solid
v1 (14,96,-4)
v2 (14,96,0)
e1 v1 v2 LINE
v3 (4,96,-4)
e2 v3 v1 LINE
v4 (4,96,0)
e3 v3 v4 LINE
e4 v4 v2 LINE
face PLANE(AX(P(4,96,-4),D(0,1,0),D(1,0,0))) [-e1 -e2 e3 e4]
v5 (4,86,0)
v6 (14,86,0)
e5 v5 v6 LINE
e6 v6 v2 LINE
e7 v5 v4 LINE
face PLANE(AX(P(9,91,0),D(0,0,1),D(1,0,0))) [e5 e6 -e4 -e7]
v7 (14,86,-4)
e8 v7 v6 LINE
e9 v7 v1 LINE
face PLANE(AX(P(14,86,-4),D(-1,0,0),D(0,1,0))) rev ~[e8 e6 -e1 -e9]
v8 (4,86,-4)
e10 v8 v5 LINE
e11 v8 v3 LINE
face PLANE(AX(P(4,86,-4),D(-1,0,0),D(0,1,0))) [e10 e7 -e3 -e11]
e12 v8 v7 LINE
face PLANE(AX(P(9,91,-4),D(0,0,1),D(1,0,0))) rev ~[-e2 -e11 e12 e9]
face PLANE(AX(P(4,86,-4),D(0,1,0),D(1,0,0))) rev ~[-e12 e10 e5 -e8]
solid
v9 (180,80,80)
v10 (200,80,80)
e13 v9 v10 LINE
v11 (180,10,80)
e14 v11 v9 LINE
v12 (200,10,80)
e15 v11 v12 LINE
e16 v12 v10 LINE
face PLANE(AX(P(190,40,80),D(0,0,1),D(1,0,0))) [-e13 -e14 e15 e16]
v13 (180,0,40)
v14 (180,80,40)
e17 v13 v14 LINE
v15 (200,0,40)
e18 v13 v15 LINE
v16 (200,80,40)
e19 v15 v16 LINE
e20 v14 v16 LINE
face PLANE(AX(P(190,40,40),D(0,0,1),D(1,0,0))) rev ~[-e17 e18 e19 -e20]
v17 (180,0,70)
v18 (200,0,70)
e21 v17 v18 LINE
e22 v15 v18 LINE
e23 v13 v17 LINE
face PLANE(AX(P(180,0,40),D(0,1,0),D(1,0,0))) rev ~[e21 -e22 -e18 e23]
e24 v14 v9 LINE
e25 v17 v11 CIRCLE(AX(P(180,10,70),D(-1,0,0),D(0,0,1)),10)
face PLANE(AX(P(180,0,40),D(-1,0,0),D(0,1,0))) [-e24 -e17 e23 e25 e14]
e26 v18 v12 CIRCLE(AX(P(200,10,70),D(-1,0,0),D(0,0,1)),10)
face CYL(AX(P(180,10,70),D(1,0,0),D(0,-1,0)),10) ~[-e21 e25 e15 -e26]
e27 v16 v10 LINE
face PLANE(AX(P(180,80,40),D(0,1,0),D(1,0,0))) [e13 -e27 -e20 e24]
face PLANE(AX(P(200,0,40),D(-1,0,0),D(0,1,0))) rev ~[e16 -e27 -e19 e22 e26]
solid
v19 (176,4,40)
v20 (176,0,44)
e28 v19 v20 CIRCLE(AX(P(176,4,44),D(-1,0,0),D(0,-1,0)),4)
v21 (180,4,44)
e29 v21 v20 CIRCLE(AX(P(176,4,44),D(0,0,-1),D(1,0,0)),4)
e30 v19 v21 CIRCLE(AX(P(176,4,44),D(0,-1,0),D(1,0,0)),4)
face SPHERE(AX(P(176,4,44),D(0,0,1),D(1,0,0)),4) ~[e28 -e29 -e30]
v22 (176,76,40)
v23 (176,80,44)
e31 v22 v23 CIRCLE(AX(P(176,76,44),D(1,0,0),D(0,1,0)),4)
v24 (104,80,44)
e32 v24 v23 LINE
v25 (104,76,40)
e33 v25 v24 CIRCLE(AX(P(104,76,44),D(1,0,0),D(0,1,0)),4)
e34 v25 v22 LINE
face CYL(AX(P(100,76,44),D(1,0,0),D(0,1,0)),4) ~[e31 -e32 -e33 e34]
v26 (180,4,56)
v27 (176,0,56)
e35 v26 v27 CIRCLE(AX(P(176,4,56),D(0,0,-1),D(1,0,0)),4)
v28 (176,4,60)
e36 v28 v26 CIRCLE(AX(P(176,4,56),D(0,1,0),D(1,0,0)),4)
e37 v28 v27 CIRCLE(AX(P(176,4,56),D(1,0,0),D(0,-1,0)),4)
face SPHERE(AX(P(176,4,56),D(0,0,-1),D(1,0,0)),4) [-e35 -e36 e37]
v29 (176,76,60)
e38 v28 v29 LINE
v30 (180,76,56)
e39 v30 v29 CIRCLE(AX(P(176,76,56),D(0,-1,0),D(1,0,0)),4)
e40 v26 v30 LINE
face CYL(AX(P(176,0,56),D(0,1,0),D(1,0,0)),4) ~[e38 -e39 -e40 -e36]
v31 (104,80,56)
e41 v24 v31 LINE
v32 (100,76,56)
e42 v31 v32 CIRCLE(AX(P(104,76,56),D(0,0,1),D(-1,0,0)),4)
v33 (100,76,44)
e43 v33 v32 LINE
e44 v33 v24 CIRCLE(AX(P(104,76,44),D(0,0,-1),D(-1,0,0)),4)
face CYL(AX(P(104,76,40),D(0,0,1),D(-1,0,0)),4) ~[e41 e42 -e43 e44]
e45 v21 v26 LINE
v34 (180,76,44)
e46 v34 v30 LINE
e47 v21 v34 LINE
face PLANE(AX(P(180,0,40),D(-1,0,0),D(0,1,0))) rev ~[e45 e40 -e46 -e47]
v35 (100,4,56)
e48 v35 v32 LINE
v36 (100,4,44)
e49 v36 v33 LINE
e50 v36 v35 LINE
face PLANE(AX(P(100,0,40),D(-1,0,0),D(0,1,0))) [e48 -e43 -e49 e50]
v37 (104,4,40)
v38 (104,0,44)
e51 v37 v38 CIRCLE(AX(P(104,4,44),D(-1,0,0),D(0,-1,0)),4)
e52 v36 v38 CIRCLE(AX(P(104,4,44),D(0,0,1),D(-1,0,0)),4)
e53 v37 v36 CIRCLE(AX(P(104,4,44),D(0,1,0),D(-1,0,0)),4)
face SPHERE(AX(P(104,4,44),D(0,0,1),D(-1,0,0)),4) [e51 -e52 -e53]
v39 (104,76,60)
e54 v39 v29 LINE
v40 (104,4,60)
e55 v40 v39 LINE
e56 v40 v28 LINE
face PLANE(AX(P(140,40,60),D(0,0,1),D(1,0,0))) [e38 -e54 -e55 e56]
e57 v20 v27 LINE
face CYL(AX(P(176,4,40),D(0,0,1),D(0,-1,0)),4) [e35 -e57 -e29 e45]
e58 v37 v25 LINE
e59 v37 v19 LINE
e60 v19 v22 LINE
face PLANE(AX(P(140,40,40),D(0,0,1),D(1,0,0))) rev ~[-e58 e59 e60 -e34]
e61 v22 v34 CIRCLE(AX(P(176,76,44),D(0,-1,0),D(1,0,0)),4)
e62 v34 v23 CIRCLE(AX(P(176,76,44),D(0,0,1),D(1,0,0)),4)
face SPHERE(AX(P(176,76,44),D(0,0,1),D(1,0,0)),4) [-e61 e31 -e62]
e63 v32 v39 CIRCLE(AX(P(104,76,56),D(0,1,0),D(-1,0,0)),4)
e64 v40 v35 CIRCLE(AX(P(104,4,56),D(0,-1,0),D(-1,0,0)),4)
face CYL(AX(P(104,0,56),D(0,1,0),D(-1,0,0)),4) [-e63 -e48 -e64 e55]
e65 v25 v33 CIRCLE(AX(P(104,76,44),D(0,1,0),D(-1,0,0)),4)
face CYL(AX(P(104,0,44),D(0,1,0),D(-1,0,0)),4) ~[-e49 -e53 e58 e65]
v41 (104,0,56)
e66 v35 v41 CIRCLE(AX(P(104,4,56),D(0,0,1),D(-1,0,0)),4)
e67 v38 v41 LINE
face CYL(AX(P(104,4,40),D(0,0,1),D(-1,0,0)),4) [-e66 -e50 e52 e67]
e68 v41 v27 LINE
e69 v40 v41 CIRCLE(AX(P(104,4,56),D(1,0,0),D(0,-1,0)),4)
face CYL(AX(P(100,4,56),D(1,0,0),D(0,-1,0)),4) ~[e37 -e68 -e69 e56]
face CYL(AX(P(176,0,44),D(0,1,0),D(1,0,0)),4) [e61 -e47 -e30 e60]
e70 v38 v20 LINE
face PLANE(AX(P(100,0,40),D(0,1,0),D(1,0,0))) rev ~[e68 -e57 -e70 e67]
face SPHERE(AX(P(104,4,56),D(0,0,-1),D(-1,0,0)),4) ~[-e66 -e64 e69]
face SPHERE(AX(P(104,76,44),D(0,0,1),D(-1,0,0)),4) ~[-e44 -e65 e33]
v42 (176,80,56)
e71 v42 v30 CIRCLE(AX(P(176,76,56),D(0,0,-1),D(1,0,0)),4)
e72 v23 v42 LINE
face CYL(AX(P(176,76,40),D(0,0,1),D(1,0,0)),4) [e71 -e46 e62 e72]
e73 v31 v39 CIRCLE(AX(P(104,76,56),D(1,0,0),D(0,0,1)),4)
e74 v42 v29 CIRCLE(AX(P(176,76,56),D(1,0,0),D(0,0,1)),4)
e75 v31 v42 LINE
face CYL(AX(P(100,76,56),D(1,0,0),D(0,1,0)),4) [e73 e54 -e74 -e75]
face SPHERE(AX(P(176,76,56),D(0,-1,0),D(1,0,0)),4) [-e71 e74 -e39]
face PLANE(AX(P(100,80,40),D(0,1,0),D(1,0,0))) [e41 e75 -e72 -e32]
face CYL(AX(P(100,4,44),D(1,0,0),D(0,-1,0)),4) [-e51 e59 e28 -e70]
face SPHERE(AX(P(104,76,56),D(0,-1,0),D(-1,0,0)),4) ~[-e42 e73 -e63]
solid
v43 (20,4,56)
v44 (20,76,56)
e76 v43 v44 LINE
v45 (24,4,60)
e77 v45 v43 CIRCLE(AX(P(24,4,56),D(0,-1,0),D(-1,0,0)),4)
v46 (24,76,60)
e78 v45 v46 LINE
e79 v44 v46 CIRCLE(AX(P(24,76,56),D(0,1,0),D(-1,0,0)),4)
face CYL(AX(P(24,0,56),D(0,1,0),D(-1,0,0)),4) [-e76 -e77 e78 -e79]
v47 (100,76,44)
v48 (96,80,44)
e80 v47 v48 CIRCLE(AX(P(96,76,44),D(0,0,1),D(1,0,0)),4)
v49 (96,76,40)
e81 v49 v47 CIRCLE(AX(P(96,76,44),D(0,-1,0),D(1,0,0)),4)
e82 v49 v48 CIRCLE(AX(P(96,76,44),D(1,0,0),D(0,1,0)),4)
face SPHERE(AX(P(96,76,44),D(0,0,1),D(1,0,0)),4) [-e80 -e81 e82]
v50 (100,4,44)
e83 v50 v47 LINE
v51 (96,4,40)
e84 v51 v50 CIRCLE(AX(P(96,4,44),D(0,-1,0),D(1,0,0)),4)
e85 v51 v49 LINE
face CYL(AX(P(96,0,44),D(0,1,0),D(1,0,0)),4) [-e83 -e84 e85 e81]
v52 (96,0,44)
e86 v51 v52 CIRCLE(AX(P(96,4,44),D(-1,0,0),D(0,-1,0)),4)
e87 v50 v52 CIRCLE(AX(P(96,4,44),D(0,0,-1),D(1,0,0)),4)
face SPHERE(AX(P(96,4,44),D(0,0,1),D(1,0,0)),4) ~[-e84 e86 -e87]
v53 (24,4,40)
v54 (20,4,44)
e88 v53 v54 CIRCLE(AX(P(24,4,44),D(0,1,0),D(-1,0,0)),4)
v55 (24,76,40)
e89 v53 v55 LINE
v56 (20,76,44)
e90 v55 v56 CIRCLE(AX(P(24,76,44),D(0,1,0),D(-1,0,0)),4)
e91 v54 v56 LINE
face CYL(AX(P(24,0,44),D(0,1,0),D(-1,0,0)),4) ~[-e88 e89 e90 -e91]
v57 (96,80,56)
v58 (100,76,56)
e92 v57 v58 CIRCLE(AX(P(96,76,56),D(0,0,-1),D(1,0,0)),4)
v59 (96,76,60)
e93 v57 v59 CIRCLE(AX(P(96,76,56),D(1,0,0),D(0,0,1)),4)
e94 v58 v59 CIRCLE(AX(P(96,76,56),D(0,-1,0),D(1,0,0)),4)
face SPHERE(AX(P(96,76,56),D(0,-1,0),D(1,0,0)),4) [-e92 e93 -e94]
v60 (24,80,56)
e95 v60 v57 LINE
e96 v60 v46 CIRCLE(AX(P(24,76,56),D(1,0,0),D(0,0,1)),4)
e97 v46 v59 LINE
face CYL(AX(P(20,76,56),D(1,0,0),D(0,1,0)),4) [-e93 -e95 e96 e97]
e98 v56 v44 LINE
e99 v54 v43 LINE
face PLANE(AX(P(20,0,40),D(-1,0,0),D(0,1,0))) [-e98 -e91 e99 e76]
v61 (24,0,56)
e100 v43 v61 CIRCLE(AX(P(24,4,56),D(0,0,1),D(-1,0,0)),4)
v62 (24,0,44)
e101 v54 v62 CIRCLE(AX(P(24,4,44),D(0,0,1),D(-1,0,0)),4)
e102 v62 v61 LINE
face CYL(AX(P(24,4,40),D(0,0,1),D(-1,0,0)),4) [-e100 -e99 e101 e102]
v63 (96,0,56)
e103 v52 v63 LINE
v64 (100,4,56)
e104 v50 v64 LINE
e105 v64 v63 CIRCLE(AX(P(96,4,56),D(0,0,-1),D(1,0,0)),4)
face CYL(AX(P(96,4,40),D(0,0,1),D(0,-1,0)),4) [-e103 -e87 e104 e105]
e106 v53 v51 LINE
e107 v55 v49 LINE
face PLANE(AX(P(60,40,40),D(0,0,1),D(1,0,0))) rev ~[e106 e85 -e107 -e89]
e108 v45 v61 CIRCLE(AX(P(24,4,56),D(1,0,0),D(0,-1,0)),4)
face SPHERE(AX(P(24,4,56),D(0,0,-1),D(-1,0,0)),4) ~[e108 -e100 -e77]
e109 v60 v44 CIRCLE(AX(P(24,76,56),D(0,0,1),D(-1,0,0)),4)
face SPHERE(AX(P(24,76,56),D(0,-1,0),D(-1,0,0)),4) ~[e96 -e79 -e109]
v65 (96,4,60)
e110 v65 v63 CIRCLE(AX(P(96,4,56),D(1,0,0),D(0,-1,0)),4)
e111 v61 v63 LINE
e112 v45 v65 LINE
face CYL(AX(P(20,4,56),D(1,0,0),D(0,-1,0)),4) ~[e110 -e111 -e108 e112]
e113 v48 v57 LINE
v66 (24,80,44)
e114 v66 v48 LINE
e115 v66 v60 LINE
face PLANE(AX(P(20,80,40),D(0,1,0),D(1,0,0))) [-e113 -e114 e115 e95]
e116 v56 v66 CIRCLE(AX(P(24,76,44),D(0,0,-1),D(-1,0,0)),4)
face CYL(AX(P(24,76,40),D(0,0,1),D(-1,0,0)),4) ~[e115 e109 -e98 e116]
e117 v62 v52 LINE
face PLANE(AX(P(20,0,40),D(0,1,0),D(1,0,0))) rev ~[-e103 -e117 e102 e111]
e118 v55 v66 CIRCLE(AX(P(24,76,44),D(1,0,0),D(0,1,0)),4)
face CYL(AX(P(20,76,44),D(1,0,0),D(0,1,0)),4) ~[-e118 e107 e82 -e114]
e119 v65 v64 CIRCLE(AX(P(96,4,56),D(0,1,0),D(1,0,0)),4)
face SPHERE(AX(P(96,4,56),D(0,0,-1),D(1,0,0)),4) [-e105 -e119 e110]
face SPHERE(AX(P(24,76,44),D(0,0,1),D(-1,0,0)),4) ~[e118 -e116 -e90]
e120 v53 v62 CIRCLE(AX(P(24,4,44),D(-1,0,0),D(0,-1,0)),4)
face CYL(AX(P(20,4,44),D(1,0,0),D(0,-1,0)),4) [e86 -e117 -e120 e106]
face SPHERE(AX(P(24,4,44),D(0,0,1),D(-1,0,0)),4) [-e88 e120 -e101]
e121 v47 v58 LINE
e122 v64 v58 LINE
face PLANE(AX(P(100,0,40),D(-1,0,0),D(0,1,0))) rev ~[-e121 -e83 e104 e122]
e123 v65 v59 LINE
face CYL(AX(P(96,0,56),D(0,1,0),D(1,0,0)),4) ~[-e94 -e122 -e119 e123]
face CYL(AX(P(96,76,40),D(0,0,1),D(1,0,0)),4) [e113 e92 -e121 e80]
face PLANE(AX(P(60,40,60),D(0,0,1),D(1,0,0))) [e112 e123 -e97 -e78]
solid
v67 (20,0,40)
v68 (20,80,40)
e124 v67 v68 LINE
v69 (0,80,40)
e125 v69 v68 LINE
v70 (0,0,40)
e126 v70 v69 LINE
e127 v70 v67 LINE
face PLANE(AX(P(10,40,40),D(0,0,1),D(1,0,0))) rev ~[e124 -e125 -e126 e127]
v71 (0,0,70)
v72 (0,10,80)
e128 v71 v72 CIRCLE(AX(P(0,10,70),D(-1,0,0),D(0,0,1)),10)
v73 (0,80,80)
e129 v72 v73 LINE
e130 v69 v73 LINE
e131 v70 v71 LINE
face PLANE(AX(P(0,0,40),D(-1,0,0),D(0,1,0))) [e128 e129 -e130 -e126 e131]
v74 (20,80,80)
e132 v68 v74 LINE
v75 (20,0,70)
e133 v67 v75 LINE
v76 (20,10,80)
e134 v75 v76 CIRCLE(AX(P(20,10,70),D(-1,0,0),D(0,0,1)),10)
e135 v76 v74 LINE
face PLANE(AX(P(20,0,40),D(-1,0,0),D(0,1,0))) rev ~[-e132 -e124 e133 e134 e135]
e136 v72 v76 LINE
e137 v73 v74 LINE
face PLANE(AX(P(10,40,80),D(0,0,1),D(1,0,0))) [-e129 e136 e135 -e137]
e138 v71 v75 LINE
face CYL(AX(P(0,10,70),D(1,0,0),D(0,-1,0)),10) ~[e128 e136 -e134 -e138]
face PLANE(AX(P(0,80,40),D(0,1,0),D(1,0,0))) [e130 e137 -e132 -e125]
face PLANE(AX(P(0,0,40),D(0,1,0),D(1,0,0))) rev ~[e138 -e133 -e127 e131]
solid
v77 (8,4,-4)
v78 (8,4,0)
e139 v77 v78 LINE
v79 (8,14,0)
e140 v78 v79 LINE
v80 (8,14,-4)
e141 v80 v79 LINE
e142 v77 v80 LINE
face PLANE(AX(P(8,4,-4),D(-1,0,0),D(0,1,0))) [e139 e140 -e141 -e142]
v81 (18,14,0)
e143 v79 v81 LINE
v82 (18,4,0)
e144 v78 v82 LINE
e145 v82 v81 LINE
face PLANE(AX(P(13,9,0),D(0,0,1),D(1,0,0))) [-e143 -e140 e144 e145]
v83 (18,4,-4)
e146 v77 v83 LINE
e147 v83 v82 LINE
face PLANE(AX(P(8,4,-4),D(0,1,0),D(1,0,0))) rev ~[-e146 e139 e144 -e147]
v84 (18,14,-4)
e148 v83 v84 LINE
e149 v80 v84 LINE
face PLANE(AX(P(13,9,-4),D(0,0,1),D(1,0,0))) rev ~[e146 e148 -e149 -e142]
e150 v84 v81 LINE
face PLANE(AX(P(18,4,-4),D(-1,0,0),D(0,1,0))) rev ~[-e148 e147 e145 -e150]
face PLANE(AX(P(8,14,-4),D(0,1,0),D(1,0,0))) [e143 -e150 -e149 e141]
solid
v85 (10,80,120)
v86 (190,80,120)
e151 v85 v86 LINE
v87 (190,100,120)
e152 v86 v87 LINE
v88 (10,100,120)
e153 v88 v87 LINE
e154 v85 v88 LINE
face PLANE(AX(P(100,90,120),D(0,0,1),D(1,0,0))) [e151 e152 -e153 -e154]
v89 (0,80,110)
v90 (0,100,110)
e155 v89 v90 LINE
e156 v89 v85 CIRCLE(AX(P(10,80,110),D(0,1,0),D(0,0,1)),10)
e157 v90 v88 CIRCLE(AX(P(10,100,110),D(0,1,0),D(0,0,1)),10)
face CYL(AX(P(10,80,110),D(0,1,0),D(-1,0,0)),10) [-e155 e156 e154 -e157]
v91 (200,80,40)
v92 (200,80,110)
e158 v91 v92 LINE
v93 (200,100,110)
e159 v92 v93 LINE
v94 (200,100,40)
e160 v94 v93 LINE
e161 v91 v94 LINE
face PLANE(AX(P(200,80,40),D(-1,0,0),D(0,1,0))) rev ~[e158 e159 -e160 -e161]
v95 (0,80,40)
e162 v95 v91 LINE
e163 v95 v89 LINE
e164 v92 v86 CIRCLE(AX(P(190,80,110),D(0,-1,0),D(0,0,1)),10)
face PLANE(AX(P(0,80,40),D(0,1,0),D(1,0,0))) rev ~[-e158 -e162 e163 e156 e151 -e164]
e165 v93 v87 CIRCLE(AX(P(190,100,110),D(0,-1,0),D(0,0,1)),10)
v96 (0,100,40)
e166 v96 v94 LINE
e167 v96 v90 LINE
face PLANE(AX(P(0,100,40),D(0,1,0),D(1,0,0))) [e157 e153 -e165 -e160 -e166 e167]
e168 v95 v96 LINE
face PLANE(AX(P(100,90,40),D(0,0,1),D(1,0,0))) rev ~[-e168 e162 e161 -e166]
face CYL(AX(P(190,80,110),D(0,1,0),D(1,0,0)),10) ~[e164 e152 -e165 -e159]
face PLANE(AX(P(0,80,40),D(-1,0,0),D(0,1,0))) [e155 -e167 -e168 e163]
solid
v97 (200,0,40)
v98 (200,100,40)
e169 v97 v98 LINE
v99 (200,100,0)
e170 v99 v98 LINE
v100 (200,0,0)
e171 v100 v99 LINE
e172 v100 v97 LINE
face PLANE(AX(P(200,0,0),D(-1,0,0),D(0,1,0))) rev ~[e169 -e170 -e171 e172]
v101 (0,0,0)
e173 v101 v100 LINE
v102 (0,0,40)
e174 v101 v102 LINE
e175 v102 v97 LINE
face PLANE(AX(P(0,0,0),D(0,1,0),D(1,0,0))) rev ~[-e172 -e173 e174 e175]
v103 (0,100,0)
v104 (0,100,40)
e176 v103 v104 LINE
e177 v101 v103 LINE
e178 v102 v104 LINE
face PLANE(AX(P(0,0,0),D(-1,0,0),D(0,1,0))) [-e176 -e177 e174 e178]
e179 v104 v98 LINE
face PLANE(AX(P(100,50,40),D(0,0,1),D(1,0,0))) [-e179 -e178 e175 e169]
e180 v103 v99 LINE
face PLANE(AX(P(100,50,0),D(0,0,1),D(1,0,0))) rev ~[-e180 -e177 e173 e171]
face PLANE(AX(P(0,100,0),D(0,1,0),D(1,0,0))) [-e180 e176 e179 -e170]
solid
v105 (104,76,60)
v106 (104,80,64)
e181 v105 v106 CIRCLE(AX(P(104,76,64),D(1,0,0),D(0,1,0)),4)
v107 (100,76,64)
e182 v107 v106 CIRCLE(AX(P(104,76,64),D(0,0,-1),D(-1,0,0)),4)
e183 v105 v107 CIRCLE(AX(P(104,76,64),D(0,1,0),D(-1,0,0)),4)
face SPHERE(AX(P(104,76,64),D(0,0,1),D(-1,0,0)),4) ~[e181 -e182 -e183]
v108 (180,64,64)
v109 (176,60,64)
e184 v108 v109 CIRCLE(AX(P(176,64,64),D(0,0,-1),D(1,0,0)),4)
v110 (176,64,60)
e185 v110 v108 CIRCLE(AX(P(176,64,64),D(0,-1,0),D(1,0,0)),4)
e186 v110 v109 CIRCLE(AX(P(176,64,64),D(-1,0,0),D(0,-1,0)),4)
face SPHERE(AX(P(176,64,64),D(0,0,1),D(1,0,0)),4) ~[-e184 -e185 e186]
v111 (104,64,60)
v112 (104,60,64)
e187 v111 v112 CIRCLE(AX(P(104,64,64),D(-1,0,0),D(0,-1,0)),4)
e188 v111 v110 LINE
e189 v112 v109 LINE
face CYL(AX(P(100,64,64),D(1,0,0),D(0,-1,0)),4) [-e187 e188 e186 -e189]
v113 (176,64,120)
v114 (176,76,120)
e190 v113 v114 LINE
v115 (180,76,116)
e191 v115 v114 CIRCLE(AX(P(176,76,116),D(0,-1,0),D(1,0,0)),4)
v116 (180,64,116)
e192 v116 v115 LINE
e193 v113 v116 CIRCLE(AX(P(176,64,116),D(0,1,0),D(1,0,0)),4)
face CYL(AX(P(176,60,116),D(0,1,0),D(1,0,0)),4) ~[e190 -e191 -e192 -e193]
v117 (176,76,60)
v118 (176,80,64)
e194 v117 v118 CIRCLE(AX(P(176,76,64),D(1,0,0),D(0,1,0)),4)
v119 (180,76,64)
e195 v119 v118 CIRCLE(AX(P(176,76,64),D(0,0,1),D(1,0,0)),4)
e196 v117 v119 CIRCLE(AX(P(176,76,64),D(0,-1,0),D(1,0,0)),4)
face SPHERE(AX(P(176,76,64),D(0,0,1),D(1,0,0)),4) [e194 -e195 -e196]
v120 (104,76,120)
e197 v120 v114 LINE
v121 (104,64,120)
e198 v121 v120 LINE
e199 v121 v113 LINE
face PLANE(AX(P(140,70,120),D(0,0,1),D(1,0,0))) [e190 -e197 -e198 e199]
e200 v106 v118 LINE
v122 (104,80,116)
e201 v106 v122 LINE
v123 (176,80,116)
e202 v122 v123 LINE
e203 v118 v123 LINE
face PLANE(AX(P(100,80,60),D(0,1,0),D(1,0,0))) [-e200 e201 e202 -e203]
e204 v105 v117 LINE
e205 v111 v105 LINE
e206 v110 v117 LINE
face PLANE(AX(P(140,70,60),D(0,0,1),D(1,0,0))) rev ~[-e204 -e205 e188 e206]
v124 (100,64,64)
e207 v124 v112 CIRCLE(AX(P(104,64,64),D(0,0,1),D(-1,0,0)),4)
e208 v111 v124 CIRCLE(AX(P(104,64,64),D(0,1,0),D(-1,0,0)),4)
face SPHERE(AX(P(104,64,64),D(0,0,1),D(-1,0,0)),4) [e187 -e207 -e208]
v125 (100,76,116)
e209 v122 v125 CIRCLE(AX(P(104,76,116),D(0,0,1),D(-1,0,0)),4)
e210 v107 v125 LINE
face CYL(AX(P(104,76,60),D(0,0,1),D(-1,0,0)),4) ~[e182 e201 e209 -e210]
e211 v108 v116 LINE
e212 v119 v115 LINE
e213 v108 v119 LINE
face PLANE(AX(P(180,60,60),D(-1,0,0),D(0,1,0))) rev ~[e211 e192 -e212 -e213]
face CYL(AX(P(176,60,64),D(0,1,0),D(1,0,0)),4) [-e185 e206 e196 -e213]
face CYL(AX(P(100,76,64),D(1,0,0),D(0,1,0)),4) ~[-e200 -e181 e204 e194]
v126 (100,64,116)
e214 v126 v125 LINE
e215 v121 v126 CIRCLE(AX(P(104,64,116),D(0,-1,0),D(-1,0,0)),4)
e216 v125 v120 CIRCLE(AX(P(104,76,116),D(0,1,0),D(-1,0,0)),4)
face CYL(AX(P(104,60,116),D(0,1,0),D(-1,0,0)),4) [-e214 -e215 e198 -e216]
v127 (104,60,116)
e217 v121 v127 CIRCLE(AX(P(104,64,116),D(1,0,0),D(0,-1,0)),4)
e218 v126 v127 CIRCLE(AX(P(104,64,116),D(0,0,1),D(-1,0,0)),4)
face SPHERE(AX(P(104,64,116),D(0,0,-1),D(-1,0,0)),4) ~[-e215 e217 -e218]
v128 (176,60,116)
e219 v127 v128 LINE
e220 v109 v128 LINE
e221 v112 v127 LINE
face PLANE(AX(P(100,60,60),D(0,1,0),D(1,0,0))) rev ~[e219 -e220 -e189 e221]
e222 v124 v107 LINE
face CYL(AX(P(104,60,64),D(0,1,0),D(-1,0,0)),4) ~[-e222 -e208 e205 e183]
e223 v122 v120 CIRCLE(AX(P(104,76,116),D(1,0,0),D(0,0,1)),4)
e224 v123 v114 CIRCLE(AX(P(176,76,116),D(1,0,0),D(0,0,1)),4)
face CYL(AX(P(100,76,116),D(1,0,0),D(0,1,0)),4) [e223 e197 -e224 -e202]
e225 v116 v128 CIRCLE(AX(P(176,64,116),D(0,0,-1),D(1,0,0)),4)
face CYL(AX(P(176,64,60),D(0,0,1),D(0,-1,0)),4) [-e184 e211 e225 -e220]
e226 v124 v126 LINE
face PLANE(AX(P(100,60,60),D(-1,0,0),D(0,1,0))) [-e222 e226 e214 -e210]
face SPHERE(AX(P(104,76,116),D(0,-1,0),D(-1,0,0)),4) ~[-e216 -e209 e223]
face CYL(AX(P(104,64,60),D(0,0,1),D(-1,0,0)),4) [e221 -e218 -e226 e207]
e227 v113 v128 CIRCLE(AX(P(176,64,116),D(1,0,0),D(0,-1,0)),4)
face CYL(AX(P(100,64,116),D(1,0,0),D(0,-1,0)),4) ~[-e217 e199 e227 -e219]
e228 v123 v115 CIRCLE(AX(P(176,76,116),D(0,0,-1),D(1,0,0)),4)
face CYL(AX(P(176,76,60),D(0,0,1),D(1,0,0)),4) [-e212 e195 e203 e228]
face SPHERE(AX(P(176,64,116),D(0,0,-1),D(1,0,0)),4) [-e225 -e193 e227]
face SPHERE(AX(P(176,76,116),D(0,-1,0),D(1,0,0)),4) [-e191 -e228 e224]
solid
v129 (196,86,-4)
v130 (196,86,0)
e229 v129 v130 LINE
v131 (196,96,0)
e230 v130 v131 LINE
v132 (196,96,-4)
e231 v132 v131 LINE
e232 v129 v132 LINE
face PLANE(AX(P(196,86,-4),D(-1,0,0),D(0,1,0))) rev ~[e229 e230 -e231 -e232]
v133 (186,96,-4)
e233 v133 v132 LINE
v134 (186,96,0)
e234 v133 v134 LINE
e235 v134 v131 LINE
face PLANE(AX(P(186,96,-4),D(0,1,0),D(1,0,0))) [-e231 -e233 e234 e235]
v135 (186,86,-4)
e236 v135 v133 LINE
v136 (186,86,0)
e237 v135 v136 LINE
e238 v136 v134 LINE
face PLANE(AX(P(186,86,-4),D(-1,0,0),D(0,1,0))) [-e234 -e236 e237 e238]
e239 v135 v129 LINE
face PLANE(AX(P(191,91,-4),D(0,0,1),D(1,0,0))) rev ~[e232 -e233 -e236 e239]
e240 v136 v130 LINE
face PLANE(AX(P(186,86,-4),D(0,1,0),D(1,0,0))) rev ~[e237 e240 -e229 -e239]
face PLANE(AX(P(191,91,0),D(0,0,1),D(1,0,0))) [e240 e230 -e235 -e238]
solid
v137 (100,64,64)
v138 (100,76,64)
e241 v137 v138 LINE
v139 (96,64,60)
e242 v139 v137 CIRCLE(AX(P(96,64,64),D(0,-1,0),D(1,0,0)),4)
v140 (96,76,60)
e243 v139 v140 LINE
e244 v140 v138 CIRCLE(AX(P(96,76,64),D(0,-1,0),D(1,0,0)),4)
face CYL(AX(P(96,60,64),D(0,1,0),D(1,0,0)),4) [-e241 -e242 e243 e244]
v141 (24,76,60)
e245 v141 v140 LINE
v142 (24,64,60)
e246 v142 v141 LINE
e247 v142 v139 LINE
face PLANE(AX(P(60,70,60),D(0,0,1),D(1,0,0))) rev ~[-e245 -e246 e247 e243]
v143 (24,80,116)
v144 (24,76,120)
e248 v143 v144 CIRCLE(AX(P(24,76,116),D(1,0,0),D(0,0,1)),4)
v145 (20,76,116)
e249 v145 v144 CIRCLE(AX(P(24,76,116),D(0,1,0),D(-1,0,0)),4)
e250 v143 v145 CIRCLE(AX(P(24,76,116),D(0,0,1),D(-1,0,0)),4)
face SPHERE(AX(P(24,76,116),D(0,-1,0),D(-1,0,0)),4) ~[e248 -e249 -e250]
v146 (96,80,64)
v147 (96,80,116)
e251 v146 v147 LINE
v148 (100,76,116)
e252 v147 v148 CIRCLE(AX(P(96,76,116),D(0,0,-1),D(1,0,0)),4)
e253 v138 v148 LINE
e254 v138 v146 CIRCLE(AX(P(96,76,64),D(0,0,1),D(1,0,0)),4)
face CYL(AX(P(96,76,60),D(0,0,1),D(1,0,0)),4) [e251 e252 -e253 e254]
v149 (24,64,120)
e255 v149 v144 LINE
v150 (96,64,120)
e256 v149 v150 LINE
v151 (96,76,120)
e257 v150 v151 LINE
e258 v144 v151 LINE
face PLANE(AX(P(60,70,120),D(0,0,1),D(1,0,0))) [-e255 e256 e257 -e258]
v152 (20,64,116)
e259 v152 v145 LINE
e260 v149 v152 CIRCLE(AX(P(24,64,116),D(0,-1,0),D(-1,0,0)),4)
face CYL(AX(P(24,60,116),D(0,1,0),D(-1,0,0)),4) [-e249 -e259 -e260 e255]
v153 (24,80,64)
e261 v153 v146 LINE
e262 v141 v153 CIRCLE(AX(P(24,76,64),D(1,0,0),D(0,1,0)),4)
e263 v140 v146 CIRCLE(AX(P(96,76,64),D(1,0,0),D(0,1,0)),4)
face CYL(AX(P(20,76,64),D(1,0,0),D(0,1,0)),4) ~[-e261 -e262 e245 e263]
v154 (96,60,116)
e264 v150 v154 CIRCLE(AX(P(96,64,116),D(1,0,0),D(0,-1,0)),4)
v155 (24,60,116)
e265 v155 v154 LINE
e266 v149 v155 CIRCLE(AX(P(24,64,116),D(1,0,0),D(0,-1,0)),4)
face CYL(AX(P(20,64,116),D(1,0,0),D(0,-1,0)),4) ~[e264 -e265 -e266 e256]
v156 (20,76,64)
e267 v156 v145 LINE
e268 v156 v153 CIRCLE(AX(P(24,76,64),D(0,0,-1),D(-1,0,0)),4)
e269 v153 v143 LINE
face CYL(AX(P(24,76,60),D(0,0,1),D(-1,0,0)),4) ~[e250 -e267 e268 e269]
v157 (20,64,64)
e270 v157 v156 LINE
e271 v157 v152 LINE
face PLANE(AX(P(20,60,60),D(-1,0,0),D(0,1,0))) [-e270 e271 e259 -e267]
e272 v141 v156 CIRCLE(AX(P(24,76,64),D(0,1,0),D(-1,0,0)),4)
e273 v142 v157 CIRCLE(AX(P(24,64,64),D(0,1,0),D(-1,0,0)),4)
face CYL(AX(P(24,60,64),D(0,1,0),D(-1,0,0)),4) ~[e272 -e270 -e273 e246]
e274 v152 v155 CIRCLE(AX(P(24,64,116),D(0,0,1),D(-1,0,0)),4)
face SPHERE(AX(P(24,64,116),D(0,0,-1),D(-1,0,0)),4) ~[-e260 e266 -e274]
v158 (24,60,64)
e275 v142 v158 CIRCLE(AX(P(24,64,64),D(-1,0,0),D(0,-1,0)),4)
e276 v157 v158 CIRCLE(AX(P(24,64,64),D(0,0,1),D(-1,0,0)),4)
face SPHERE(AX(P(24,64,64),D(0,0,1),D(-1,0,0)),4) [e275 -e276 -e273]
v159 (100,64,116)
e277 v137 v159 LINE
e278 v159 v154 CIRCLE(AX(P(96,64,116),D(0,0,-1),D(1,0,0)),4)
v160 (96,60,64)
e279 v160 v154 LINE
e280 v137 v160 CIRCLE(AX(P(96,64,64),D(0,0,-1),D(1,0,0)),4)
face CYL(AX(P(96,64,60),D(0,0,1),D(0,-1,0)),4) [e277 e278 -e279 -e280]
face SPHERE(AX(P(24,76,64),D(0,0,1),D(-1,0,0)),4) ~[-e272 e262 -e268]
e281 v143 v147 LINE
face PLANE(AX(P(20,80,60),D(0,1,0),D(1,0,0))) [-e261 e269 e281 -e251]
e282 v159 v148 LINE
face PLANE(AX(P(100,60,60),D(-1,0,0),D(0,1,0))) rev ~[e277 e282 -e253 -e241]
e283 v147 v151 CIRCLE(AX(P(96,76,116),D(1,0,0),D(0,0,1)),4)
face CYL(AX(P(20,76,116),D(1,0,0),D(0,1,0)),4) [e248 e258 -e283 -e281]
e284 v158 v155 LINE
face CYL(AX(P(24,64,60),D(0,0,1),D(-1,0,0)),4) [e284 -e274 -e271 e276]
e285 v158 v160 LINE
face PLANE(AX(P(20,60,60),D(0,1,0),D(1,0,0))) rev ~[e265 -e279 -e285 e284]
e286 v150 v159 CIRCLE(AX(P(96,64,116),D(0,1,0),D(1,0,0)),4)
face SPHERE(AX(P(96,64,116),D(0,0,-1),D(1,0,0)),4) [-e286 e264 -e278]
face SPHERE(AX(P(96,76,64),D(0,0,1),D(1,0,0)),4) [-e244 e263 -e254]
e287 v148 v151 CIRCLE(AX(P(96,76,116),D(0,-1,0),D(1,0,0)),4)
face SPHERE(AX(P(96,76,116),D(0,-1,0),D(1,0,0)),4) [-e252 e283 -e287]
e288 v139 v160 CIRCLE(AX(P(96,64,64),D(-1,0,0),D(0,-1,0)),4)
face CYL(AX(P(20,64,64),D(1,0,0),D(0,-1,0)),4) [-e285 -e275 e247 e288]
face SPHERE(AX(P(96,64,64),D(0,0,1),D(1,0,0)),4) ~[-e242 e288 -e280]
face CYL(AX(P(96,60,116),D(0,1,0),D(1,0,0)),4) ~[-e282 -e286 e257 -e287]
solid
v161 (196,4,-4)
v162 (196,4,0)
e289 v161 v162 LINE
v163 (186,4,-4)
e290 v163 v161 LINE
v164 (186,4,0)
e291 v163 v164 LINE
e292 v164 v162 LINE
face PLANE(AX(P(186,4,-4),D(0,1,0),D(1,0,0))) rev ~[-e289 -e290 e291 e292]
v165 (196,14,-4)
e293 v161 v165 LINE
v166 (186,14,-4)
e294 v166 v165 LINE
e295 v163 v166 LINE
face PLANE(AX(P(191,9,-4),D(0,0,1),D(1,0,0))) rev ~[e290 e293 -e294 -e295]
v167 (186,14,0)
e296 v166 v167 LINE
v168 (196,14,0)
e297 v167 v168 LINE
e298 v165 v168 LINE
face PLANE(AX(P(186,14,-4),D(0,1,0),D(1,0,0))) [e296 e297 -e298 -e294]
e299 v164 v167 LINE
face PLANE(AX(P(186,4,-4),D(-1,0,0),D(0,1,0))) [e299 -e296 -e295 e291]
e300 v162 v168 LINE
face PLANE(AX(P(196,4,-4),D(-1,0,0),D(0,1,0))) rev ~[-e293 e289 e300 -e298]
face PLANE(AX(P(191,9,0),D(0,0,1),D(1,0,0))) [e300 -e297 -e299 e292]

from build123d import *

# Parameters (mm, degrees)
BOX_W        = 200
BOX_H        = 100
BOX_DEPTH    = 40
BOX001_W     = 20
BOX001_H     = 80
BOX001_DEPTH = 40
FILLET_R     = 10
BOX002_W     = 20
BOX002_H     = 80
BOX002_DEPTH = 40
FILLET001_R  = 10
BOX003_W     = 200
BOX003_H     = 20
BOX003_DEPTH = 80
FILLET002_R  = 10
BOX004_W     = 80
BOX004_H     = 80
BOX004_DEPTH = 20
FILLET003_R  = 4
BOX005_W     = 80
BOX005_H     = 80
BOX005_DEPTH = 20
FILLET004_R  = 4
BOX006_W     = 80
BOX006_H     = 20
BOX006_DEPTH = 60
FILLET005_R  = 4
BOX007_W     = 80
BOX007_H     = 20
BOX007_DEPTH = 60
FILLET006_R  = 4
BOX008_W     = 10
BOX008_H     = 10
BOX008_DEPTH = 4
BOX009_W     = 10
BOX009_H     = 10
BOX009_DEPTH = 4
BOX010_W     = 10
BOX010_H     = 10
BOX010_DEPTH = 4
BOX011_W     = 10
BOX011_H     = 10
BOX011_DEPTH = 4


with BuildPart() as cube:
    # Box → Box (new body)
    with BuildSketch(Plane.XY):
        with Locations((100, 50)):
            Rectangle(BOX_W, BOX_H)
    extrude(amount=BOX_DEPTH)


with BuildPart() as fillet_body:
    # Box001 → Box001 (new body)
    with BuildSketch(Plane.XY.offset(40)):
        with Locations((10, 40)):
            Rectangle(BOX001_W, BOX001_H)
    extrude(amount=BOX001_DEPTH)

    # Fillet
    fillet_edges = [fillet_body.edges().sort_by_distance(p)[0] for p in [
        (10, 0, 80),
    ]]
    fillet(fillet_edges, radius=FILLET_R)


with BuildPart() as fillet001:
    # Box002 → Box002 (new body)
    with BuildSketch(Plane.XY.offset(40)):
        with Locations((10, 40)):
            Rectangle(BOX002_W, BOX002_H)
    extrude(amount=BOX002_DEPTH)

    # Fillet001
    fillet001_edges = [fillet001.edges().sort_by_distance(p)[0] for p in [
        (10, 0, 80),
    ]]
    fillet(fillet001_edges, radius=FILLET001_R)


with BuildPart() as fillet001_1:
    # Fillet001 placement: moved
    add(fillet001.part.moved(Location((180, 0, 0))))


with BuildPart() as fillet002:
    # Box003 → Box003 (new body)
    with BuildSketch(Plane(origin=(0, 80, 40), x_dir=(1, 0, 0), z_dir=(0, 0, 1))):
        with Locations((100, 10)):
            Rectangle(BOX003_W, BOX003_H)
    extrude(amount=BOX003_DEPTH)

    # Fillet002
    fillet002_edges = [fillet002.edges().sort_by_distance(p)[0] for p in [
        (0, 90, 120),
        (200, 90, 120),
    ]]
    fillet(fillet002_edges, radius=FILLET002_R)


with BuildPart() as fillet003:
    # Box004 → Box004 (new body)
    with BuildSketch(Plane(origin=(20, 0, 40), x_dir=(1, 0, 0), z_dir=(0, 0, 1))):
        with Locations((40, 40)):
            Rectangle(BOX004_W, BOX004_H)
    extrude(amount=BOX004_DEPTH)

    # Fillet003
    fillet003_edges = [fillet003.edges().sort_by_distance(p)[0] for p in [
        (20, 0, 50),
        (20, 40, 60),
        (20, 80, 50),
        (20, 40, 40),
        (100, 0, 50),
        (100, 40, 60),
        (100, 80, 50),
        (100, 40, 40),
        (60, 0, 40),
        (60, 0, 60),
        (60, 80, 40),
        (60, 80, 60),
    ]]
    fillet(fillet003_edges, radius=FILLET003_R)


with BuildPart() as fillet003_1:
    # Fillet003 placement: moved
    add(fillet003.part.moved(Location((80, 0, 0))))


with BuildPart() as fillet004:
    # Box005 → Box005 (new body)
    with BuildSketch(Plane(origin=(20, 0, 40), x_dir=(1, 0, 0), z_dir=(0, 0, 1))):
        with Locations((40, 40)):
            Rectangle(BOX005_W, BOX005_H)
    extrude(amount=BOX005_DEPTH)

    # Fillet004
    fillet004_edges = [fillet004.edges().sort_by_distance(p)[0] for p in [
        (20, 0, 50),
        (20, 40, 60),
        (20, 80, 50),
        (20, 40, 40),
        (100, 0, 50),
        (100, 40, 60),
        (100, 80, 50),
        (100, 40, 40),
        (60, 0, 40),
        (60, 0, 60),
        (60, 80, 40),
        (60, 80, 60),
    ]]
    fillet(fillet004_edges, radius=FILLET004_R)


with BuildPart() as fillet005:
    # Box006 → Box006 (new body)
    with BuildSketch(Plane(origin=(20, 60, 60), x_dir=(1, 0, 0), z_dir=(0, 0, 1))):
        with Locations((40, 10)):
            Rectangle(BOX006_W, BOX006_H)
    extrude(amount=BOX006_DEPTH)

    # Fillet005
    fillet005_edges = [fillet005.edges().sort_by_distance(p)[0] for p in [
        (20, 60, 90),
        (20, 70, 120),
        (20, 80, 90),
        (20, 70, 60),
        (100, 60, 90),
        (100, 70, 120),
        (100, 80, 90),
        (100, 70, 60),
        (60, 60, 60),
        (60, 60, 120),
        (60, 80, 60),
        (60, 80, 120),
    ]]
    fillet(fillet005_edges, radius=FILLET005_R)


with BuildPart() as fillet006:
    # Box007 → Box007 (new body)
    with BuildSketch(Plane(origin=(20, 60, 60), x_dir=(1, 0, 0), z_dir=(0, 0, 1))):
        with Locations((40, 10)):
            Rectangle(BOX007_W, BOX007_H)
    extrude(amount=BOX007_DEPTH)

    # Fillet006
    fillet006_edges = [fillet006.edges().sort_by_distance(p)[0] for p in [
        (20, 60, 90),
        (20, 70, 120),
        (20, 80, 90),
        (20, 70, 60),
        (100, 60, 90),
        (100, 70, 120),
        (100, 80, 90),
        (100, 70, 60),
        (60, 60, 60),
        (60, 60, 120),
        (60, 80, 60),
        (60, 80, 120),
    ]]
    fillet(fillet006_edges, radius=FILLET006_R)


with BuildPart() as fillet006_1:
    # Fillet006 placement: moved
    add(fillet006.part.moved(Location((80, 0, 0))))


with BuildPart() as cube008:
    # Box008 → Box008 (new body)
    with BuildSketch(Plane(origin=(8, 4, -4), x_dir=(1, 0, 0), z_dir=(0, 0, 1))):
        with Locations((5, 5)):
            Rectangle(BOX008_W, BOX008_H)
    extrude(amount=BOX008_DEPTH)


with BuildPart() as cube009:
    # Box009 → Box009 (new body)
    with BuildSketch(Plane(origin=(4, 86, -4), x_dir=(1, 0, 0), z_dir=(0, 0, 1))):
        with Locations((5, 5)):
            Rectangle(BOX009_W, BOX009_H)
    extrude(amount=BOX009_DEPTH)


with BuildPart() as cube010:
    # Box010 → Box010 (new body)
    with BuildSketch(Plane(origin=(186, 4, -4), x_dir=(1, 0, 0), z_dir=(0, 0, 1))):
        with Locations((5, 5)):
            Rectangle(BOX010_W, BOX010_H)
    extrude(amount=BOX010_DEPTH)


with BuildPart() as cube011:
    # Box011 → Box011 (new body)
    with BuildSketch(Plane(origin=(186, 86, -4), x_dir=(1, 0, 0), z_dir=(0, 0, 1))):
        with Locations((5, 5)):
            Rectangle(BOX011_W, BOX011_H)
    extrude(amount=BOX011_DEPTH)


solid = Compound([cube.part, fillet_body.part, fillet001_1.part, fillet002.part, fillet003_1.part, fillet004.part, fillet005.part, fillet006_1.part, cube008.part, cube009.part, cube010.part, cube011.part])
